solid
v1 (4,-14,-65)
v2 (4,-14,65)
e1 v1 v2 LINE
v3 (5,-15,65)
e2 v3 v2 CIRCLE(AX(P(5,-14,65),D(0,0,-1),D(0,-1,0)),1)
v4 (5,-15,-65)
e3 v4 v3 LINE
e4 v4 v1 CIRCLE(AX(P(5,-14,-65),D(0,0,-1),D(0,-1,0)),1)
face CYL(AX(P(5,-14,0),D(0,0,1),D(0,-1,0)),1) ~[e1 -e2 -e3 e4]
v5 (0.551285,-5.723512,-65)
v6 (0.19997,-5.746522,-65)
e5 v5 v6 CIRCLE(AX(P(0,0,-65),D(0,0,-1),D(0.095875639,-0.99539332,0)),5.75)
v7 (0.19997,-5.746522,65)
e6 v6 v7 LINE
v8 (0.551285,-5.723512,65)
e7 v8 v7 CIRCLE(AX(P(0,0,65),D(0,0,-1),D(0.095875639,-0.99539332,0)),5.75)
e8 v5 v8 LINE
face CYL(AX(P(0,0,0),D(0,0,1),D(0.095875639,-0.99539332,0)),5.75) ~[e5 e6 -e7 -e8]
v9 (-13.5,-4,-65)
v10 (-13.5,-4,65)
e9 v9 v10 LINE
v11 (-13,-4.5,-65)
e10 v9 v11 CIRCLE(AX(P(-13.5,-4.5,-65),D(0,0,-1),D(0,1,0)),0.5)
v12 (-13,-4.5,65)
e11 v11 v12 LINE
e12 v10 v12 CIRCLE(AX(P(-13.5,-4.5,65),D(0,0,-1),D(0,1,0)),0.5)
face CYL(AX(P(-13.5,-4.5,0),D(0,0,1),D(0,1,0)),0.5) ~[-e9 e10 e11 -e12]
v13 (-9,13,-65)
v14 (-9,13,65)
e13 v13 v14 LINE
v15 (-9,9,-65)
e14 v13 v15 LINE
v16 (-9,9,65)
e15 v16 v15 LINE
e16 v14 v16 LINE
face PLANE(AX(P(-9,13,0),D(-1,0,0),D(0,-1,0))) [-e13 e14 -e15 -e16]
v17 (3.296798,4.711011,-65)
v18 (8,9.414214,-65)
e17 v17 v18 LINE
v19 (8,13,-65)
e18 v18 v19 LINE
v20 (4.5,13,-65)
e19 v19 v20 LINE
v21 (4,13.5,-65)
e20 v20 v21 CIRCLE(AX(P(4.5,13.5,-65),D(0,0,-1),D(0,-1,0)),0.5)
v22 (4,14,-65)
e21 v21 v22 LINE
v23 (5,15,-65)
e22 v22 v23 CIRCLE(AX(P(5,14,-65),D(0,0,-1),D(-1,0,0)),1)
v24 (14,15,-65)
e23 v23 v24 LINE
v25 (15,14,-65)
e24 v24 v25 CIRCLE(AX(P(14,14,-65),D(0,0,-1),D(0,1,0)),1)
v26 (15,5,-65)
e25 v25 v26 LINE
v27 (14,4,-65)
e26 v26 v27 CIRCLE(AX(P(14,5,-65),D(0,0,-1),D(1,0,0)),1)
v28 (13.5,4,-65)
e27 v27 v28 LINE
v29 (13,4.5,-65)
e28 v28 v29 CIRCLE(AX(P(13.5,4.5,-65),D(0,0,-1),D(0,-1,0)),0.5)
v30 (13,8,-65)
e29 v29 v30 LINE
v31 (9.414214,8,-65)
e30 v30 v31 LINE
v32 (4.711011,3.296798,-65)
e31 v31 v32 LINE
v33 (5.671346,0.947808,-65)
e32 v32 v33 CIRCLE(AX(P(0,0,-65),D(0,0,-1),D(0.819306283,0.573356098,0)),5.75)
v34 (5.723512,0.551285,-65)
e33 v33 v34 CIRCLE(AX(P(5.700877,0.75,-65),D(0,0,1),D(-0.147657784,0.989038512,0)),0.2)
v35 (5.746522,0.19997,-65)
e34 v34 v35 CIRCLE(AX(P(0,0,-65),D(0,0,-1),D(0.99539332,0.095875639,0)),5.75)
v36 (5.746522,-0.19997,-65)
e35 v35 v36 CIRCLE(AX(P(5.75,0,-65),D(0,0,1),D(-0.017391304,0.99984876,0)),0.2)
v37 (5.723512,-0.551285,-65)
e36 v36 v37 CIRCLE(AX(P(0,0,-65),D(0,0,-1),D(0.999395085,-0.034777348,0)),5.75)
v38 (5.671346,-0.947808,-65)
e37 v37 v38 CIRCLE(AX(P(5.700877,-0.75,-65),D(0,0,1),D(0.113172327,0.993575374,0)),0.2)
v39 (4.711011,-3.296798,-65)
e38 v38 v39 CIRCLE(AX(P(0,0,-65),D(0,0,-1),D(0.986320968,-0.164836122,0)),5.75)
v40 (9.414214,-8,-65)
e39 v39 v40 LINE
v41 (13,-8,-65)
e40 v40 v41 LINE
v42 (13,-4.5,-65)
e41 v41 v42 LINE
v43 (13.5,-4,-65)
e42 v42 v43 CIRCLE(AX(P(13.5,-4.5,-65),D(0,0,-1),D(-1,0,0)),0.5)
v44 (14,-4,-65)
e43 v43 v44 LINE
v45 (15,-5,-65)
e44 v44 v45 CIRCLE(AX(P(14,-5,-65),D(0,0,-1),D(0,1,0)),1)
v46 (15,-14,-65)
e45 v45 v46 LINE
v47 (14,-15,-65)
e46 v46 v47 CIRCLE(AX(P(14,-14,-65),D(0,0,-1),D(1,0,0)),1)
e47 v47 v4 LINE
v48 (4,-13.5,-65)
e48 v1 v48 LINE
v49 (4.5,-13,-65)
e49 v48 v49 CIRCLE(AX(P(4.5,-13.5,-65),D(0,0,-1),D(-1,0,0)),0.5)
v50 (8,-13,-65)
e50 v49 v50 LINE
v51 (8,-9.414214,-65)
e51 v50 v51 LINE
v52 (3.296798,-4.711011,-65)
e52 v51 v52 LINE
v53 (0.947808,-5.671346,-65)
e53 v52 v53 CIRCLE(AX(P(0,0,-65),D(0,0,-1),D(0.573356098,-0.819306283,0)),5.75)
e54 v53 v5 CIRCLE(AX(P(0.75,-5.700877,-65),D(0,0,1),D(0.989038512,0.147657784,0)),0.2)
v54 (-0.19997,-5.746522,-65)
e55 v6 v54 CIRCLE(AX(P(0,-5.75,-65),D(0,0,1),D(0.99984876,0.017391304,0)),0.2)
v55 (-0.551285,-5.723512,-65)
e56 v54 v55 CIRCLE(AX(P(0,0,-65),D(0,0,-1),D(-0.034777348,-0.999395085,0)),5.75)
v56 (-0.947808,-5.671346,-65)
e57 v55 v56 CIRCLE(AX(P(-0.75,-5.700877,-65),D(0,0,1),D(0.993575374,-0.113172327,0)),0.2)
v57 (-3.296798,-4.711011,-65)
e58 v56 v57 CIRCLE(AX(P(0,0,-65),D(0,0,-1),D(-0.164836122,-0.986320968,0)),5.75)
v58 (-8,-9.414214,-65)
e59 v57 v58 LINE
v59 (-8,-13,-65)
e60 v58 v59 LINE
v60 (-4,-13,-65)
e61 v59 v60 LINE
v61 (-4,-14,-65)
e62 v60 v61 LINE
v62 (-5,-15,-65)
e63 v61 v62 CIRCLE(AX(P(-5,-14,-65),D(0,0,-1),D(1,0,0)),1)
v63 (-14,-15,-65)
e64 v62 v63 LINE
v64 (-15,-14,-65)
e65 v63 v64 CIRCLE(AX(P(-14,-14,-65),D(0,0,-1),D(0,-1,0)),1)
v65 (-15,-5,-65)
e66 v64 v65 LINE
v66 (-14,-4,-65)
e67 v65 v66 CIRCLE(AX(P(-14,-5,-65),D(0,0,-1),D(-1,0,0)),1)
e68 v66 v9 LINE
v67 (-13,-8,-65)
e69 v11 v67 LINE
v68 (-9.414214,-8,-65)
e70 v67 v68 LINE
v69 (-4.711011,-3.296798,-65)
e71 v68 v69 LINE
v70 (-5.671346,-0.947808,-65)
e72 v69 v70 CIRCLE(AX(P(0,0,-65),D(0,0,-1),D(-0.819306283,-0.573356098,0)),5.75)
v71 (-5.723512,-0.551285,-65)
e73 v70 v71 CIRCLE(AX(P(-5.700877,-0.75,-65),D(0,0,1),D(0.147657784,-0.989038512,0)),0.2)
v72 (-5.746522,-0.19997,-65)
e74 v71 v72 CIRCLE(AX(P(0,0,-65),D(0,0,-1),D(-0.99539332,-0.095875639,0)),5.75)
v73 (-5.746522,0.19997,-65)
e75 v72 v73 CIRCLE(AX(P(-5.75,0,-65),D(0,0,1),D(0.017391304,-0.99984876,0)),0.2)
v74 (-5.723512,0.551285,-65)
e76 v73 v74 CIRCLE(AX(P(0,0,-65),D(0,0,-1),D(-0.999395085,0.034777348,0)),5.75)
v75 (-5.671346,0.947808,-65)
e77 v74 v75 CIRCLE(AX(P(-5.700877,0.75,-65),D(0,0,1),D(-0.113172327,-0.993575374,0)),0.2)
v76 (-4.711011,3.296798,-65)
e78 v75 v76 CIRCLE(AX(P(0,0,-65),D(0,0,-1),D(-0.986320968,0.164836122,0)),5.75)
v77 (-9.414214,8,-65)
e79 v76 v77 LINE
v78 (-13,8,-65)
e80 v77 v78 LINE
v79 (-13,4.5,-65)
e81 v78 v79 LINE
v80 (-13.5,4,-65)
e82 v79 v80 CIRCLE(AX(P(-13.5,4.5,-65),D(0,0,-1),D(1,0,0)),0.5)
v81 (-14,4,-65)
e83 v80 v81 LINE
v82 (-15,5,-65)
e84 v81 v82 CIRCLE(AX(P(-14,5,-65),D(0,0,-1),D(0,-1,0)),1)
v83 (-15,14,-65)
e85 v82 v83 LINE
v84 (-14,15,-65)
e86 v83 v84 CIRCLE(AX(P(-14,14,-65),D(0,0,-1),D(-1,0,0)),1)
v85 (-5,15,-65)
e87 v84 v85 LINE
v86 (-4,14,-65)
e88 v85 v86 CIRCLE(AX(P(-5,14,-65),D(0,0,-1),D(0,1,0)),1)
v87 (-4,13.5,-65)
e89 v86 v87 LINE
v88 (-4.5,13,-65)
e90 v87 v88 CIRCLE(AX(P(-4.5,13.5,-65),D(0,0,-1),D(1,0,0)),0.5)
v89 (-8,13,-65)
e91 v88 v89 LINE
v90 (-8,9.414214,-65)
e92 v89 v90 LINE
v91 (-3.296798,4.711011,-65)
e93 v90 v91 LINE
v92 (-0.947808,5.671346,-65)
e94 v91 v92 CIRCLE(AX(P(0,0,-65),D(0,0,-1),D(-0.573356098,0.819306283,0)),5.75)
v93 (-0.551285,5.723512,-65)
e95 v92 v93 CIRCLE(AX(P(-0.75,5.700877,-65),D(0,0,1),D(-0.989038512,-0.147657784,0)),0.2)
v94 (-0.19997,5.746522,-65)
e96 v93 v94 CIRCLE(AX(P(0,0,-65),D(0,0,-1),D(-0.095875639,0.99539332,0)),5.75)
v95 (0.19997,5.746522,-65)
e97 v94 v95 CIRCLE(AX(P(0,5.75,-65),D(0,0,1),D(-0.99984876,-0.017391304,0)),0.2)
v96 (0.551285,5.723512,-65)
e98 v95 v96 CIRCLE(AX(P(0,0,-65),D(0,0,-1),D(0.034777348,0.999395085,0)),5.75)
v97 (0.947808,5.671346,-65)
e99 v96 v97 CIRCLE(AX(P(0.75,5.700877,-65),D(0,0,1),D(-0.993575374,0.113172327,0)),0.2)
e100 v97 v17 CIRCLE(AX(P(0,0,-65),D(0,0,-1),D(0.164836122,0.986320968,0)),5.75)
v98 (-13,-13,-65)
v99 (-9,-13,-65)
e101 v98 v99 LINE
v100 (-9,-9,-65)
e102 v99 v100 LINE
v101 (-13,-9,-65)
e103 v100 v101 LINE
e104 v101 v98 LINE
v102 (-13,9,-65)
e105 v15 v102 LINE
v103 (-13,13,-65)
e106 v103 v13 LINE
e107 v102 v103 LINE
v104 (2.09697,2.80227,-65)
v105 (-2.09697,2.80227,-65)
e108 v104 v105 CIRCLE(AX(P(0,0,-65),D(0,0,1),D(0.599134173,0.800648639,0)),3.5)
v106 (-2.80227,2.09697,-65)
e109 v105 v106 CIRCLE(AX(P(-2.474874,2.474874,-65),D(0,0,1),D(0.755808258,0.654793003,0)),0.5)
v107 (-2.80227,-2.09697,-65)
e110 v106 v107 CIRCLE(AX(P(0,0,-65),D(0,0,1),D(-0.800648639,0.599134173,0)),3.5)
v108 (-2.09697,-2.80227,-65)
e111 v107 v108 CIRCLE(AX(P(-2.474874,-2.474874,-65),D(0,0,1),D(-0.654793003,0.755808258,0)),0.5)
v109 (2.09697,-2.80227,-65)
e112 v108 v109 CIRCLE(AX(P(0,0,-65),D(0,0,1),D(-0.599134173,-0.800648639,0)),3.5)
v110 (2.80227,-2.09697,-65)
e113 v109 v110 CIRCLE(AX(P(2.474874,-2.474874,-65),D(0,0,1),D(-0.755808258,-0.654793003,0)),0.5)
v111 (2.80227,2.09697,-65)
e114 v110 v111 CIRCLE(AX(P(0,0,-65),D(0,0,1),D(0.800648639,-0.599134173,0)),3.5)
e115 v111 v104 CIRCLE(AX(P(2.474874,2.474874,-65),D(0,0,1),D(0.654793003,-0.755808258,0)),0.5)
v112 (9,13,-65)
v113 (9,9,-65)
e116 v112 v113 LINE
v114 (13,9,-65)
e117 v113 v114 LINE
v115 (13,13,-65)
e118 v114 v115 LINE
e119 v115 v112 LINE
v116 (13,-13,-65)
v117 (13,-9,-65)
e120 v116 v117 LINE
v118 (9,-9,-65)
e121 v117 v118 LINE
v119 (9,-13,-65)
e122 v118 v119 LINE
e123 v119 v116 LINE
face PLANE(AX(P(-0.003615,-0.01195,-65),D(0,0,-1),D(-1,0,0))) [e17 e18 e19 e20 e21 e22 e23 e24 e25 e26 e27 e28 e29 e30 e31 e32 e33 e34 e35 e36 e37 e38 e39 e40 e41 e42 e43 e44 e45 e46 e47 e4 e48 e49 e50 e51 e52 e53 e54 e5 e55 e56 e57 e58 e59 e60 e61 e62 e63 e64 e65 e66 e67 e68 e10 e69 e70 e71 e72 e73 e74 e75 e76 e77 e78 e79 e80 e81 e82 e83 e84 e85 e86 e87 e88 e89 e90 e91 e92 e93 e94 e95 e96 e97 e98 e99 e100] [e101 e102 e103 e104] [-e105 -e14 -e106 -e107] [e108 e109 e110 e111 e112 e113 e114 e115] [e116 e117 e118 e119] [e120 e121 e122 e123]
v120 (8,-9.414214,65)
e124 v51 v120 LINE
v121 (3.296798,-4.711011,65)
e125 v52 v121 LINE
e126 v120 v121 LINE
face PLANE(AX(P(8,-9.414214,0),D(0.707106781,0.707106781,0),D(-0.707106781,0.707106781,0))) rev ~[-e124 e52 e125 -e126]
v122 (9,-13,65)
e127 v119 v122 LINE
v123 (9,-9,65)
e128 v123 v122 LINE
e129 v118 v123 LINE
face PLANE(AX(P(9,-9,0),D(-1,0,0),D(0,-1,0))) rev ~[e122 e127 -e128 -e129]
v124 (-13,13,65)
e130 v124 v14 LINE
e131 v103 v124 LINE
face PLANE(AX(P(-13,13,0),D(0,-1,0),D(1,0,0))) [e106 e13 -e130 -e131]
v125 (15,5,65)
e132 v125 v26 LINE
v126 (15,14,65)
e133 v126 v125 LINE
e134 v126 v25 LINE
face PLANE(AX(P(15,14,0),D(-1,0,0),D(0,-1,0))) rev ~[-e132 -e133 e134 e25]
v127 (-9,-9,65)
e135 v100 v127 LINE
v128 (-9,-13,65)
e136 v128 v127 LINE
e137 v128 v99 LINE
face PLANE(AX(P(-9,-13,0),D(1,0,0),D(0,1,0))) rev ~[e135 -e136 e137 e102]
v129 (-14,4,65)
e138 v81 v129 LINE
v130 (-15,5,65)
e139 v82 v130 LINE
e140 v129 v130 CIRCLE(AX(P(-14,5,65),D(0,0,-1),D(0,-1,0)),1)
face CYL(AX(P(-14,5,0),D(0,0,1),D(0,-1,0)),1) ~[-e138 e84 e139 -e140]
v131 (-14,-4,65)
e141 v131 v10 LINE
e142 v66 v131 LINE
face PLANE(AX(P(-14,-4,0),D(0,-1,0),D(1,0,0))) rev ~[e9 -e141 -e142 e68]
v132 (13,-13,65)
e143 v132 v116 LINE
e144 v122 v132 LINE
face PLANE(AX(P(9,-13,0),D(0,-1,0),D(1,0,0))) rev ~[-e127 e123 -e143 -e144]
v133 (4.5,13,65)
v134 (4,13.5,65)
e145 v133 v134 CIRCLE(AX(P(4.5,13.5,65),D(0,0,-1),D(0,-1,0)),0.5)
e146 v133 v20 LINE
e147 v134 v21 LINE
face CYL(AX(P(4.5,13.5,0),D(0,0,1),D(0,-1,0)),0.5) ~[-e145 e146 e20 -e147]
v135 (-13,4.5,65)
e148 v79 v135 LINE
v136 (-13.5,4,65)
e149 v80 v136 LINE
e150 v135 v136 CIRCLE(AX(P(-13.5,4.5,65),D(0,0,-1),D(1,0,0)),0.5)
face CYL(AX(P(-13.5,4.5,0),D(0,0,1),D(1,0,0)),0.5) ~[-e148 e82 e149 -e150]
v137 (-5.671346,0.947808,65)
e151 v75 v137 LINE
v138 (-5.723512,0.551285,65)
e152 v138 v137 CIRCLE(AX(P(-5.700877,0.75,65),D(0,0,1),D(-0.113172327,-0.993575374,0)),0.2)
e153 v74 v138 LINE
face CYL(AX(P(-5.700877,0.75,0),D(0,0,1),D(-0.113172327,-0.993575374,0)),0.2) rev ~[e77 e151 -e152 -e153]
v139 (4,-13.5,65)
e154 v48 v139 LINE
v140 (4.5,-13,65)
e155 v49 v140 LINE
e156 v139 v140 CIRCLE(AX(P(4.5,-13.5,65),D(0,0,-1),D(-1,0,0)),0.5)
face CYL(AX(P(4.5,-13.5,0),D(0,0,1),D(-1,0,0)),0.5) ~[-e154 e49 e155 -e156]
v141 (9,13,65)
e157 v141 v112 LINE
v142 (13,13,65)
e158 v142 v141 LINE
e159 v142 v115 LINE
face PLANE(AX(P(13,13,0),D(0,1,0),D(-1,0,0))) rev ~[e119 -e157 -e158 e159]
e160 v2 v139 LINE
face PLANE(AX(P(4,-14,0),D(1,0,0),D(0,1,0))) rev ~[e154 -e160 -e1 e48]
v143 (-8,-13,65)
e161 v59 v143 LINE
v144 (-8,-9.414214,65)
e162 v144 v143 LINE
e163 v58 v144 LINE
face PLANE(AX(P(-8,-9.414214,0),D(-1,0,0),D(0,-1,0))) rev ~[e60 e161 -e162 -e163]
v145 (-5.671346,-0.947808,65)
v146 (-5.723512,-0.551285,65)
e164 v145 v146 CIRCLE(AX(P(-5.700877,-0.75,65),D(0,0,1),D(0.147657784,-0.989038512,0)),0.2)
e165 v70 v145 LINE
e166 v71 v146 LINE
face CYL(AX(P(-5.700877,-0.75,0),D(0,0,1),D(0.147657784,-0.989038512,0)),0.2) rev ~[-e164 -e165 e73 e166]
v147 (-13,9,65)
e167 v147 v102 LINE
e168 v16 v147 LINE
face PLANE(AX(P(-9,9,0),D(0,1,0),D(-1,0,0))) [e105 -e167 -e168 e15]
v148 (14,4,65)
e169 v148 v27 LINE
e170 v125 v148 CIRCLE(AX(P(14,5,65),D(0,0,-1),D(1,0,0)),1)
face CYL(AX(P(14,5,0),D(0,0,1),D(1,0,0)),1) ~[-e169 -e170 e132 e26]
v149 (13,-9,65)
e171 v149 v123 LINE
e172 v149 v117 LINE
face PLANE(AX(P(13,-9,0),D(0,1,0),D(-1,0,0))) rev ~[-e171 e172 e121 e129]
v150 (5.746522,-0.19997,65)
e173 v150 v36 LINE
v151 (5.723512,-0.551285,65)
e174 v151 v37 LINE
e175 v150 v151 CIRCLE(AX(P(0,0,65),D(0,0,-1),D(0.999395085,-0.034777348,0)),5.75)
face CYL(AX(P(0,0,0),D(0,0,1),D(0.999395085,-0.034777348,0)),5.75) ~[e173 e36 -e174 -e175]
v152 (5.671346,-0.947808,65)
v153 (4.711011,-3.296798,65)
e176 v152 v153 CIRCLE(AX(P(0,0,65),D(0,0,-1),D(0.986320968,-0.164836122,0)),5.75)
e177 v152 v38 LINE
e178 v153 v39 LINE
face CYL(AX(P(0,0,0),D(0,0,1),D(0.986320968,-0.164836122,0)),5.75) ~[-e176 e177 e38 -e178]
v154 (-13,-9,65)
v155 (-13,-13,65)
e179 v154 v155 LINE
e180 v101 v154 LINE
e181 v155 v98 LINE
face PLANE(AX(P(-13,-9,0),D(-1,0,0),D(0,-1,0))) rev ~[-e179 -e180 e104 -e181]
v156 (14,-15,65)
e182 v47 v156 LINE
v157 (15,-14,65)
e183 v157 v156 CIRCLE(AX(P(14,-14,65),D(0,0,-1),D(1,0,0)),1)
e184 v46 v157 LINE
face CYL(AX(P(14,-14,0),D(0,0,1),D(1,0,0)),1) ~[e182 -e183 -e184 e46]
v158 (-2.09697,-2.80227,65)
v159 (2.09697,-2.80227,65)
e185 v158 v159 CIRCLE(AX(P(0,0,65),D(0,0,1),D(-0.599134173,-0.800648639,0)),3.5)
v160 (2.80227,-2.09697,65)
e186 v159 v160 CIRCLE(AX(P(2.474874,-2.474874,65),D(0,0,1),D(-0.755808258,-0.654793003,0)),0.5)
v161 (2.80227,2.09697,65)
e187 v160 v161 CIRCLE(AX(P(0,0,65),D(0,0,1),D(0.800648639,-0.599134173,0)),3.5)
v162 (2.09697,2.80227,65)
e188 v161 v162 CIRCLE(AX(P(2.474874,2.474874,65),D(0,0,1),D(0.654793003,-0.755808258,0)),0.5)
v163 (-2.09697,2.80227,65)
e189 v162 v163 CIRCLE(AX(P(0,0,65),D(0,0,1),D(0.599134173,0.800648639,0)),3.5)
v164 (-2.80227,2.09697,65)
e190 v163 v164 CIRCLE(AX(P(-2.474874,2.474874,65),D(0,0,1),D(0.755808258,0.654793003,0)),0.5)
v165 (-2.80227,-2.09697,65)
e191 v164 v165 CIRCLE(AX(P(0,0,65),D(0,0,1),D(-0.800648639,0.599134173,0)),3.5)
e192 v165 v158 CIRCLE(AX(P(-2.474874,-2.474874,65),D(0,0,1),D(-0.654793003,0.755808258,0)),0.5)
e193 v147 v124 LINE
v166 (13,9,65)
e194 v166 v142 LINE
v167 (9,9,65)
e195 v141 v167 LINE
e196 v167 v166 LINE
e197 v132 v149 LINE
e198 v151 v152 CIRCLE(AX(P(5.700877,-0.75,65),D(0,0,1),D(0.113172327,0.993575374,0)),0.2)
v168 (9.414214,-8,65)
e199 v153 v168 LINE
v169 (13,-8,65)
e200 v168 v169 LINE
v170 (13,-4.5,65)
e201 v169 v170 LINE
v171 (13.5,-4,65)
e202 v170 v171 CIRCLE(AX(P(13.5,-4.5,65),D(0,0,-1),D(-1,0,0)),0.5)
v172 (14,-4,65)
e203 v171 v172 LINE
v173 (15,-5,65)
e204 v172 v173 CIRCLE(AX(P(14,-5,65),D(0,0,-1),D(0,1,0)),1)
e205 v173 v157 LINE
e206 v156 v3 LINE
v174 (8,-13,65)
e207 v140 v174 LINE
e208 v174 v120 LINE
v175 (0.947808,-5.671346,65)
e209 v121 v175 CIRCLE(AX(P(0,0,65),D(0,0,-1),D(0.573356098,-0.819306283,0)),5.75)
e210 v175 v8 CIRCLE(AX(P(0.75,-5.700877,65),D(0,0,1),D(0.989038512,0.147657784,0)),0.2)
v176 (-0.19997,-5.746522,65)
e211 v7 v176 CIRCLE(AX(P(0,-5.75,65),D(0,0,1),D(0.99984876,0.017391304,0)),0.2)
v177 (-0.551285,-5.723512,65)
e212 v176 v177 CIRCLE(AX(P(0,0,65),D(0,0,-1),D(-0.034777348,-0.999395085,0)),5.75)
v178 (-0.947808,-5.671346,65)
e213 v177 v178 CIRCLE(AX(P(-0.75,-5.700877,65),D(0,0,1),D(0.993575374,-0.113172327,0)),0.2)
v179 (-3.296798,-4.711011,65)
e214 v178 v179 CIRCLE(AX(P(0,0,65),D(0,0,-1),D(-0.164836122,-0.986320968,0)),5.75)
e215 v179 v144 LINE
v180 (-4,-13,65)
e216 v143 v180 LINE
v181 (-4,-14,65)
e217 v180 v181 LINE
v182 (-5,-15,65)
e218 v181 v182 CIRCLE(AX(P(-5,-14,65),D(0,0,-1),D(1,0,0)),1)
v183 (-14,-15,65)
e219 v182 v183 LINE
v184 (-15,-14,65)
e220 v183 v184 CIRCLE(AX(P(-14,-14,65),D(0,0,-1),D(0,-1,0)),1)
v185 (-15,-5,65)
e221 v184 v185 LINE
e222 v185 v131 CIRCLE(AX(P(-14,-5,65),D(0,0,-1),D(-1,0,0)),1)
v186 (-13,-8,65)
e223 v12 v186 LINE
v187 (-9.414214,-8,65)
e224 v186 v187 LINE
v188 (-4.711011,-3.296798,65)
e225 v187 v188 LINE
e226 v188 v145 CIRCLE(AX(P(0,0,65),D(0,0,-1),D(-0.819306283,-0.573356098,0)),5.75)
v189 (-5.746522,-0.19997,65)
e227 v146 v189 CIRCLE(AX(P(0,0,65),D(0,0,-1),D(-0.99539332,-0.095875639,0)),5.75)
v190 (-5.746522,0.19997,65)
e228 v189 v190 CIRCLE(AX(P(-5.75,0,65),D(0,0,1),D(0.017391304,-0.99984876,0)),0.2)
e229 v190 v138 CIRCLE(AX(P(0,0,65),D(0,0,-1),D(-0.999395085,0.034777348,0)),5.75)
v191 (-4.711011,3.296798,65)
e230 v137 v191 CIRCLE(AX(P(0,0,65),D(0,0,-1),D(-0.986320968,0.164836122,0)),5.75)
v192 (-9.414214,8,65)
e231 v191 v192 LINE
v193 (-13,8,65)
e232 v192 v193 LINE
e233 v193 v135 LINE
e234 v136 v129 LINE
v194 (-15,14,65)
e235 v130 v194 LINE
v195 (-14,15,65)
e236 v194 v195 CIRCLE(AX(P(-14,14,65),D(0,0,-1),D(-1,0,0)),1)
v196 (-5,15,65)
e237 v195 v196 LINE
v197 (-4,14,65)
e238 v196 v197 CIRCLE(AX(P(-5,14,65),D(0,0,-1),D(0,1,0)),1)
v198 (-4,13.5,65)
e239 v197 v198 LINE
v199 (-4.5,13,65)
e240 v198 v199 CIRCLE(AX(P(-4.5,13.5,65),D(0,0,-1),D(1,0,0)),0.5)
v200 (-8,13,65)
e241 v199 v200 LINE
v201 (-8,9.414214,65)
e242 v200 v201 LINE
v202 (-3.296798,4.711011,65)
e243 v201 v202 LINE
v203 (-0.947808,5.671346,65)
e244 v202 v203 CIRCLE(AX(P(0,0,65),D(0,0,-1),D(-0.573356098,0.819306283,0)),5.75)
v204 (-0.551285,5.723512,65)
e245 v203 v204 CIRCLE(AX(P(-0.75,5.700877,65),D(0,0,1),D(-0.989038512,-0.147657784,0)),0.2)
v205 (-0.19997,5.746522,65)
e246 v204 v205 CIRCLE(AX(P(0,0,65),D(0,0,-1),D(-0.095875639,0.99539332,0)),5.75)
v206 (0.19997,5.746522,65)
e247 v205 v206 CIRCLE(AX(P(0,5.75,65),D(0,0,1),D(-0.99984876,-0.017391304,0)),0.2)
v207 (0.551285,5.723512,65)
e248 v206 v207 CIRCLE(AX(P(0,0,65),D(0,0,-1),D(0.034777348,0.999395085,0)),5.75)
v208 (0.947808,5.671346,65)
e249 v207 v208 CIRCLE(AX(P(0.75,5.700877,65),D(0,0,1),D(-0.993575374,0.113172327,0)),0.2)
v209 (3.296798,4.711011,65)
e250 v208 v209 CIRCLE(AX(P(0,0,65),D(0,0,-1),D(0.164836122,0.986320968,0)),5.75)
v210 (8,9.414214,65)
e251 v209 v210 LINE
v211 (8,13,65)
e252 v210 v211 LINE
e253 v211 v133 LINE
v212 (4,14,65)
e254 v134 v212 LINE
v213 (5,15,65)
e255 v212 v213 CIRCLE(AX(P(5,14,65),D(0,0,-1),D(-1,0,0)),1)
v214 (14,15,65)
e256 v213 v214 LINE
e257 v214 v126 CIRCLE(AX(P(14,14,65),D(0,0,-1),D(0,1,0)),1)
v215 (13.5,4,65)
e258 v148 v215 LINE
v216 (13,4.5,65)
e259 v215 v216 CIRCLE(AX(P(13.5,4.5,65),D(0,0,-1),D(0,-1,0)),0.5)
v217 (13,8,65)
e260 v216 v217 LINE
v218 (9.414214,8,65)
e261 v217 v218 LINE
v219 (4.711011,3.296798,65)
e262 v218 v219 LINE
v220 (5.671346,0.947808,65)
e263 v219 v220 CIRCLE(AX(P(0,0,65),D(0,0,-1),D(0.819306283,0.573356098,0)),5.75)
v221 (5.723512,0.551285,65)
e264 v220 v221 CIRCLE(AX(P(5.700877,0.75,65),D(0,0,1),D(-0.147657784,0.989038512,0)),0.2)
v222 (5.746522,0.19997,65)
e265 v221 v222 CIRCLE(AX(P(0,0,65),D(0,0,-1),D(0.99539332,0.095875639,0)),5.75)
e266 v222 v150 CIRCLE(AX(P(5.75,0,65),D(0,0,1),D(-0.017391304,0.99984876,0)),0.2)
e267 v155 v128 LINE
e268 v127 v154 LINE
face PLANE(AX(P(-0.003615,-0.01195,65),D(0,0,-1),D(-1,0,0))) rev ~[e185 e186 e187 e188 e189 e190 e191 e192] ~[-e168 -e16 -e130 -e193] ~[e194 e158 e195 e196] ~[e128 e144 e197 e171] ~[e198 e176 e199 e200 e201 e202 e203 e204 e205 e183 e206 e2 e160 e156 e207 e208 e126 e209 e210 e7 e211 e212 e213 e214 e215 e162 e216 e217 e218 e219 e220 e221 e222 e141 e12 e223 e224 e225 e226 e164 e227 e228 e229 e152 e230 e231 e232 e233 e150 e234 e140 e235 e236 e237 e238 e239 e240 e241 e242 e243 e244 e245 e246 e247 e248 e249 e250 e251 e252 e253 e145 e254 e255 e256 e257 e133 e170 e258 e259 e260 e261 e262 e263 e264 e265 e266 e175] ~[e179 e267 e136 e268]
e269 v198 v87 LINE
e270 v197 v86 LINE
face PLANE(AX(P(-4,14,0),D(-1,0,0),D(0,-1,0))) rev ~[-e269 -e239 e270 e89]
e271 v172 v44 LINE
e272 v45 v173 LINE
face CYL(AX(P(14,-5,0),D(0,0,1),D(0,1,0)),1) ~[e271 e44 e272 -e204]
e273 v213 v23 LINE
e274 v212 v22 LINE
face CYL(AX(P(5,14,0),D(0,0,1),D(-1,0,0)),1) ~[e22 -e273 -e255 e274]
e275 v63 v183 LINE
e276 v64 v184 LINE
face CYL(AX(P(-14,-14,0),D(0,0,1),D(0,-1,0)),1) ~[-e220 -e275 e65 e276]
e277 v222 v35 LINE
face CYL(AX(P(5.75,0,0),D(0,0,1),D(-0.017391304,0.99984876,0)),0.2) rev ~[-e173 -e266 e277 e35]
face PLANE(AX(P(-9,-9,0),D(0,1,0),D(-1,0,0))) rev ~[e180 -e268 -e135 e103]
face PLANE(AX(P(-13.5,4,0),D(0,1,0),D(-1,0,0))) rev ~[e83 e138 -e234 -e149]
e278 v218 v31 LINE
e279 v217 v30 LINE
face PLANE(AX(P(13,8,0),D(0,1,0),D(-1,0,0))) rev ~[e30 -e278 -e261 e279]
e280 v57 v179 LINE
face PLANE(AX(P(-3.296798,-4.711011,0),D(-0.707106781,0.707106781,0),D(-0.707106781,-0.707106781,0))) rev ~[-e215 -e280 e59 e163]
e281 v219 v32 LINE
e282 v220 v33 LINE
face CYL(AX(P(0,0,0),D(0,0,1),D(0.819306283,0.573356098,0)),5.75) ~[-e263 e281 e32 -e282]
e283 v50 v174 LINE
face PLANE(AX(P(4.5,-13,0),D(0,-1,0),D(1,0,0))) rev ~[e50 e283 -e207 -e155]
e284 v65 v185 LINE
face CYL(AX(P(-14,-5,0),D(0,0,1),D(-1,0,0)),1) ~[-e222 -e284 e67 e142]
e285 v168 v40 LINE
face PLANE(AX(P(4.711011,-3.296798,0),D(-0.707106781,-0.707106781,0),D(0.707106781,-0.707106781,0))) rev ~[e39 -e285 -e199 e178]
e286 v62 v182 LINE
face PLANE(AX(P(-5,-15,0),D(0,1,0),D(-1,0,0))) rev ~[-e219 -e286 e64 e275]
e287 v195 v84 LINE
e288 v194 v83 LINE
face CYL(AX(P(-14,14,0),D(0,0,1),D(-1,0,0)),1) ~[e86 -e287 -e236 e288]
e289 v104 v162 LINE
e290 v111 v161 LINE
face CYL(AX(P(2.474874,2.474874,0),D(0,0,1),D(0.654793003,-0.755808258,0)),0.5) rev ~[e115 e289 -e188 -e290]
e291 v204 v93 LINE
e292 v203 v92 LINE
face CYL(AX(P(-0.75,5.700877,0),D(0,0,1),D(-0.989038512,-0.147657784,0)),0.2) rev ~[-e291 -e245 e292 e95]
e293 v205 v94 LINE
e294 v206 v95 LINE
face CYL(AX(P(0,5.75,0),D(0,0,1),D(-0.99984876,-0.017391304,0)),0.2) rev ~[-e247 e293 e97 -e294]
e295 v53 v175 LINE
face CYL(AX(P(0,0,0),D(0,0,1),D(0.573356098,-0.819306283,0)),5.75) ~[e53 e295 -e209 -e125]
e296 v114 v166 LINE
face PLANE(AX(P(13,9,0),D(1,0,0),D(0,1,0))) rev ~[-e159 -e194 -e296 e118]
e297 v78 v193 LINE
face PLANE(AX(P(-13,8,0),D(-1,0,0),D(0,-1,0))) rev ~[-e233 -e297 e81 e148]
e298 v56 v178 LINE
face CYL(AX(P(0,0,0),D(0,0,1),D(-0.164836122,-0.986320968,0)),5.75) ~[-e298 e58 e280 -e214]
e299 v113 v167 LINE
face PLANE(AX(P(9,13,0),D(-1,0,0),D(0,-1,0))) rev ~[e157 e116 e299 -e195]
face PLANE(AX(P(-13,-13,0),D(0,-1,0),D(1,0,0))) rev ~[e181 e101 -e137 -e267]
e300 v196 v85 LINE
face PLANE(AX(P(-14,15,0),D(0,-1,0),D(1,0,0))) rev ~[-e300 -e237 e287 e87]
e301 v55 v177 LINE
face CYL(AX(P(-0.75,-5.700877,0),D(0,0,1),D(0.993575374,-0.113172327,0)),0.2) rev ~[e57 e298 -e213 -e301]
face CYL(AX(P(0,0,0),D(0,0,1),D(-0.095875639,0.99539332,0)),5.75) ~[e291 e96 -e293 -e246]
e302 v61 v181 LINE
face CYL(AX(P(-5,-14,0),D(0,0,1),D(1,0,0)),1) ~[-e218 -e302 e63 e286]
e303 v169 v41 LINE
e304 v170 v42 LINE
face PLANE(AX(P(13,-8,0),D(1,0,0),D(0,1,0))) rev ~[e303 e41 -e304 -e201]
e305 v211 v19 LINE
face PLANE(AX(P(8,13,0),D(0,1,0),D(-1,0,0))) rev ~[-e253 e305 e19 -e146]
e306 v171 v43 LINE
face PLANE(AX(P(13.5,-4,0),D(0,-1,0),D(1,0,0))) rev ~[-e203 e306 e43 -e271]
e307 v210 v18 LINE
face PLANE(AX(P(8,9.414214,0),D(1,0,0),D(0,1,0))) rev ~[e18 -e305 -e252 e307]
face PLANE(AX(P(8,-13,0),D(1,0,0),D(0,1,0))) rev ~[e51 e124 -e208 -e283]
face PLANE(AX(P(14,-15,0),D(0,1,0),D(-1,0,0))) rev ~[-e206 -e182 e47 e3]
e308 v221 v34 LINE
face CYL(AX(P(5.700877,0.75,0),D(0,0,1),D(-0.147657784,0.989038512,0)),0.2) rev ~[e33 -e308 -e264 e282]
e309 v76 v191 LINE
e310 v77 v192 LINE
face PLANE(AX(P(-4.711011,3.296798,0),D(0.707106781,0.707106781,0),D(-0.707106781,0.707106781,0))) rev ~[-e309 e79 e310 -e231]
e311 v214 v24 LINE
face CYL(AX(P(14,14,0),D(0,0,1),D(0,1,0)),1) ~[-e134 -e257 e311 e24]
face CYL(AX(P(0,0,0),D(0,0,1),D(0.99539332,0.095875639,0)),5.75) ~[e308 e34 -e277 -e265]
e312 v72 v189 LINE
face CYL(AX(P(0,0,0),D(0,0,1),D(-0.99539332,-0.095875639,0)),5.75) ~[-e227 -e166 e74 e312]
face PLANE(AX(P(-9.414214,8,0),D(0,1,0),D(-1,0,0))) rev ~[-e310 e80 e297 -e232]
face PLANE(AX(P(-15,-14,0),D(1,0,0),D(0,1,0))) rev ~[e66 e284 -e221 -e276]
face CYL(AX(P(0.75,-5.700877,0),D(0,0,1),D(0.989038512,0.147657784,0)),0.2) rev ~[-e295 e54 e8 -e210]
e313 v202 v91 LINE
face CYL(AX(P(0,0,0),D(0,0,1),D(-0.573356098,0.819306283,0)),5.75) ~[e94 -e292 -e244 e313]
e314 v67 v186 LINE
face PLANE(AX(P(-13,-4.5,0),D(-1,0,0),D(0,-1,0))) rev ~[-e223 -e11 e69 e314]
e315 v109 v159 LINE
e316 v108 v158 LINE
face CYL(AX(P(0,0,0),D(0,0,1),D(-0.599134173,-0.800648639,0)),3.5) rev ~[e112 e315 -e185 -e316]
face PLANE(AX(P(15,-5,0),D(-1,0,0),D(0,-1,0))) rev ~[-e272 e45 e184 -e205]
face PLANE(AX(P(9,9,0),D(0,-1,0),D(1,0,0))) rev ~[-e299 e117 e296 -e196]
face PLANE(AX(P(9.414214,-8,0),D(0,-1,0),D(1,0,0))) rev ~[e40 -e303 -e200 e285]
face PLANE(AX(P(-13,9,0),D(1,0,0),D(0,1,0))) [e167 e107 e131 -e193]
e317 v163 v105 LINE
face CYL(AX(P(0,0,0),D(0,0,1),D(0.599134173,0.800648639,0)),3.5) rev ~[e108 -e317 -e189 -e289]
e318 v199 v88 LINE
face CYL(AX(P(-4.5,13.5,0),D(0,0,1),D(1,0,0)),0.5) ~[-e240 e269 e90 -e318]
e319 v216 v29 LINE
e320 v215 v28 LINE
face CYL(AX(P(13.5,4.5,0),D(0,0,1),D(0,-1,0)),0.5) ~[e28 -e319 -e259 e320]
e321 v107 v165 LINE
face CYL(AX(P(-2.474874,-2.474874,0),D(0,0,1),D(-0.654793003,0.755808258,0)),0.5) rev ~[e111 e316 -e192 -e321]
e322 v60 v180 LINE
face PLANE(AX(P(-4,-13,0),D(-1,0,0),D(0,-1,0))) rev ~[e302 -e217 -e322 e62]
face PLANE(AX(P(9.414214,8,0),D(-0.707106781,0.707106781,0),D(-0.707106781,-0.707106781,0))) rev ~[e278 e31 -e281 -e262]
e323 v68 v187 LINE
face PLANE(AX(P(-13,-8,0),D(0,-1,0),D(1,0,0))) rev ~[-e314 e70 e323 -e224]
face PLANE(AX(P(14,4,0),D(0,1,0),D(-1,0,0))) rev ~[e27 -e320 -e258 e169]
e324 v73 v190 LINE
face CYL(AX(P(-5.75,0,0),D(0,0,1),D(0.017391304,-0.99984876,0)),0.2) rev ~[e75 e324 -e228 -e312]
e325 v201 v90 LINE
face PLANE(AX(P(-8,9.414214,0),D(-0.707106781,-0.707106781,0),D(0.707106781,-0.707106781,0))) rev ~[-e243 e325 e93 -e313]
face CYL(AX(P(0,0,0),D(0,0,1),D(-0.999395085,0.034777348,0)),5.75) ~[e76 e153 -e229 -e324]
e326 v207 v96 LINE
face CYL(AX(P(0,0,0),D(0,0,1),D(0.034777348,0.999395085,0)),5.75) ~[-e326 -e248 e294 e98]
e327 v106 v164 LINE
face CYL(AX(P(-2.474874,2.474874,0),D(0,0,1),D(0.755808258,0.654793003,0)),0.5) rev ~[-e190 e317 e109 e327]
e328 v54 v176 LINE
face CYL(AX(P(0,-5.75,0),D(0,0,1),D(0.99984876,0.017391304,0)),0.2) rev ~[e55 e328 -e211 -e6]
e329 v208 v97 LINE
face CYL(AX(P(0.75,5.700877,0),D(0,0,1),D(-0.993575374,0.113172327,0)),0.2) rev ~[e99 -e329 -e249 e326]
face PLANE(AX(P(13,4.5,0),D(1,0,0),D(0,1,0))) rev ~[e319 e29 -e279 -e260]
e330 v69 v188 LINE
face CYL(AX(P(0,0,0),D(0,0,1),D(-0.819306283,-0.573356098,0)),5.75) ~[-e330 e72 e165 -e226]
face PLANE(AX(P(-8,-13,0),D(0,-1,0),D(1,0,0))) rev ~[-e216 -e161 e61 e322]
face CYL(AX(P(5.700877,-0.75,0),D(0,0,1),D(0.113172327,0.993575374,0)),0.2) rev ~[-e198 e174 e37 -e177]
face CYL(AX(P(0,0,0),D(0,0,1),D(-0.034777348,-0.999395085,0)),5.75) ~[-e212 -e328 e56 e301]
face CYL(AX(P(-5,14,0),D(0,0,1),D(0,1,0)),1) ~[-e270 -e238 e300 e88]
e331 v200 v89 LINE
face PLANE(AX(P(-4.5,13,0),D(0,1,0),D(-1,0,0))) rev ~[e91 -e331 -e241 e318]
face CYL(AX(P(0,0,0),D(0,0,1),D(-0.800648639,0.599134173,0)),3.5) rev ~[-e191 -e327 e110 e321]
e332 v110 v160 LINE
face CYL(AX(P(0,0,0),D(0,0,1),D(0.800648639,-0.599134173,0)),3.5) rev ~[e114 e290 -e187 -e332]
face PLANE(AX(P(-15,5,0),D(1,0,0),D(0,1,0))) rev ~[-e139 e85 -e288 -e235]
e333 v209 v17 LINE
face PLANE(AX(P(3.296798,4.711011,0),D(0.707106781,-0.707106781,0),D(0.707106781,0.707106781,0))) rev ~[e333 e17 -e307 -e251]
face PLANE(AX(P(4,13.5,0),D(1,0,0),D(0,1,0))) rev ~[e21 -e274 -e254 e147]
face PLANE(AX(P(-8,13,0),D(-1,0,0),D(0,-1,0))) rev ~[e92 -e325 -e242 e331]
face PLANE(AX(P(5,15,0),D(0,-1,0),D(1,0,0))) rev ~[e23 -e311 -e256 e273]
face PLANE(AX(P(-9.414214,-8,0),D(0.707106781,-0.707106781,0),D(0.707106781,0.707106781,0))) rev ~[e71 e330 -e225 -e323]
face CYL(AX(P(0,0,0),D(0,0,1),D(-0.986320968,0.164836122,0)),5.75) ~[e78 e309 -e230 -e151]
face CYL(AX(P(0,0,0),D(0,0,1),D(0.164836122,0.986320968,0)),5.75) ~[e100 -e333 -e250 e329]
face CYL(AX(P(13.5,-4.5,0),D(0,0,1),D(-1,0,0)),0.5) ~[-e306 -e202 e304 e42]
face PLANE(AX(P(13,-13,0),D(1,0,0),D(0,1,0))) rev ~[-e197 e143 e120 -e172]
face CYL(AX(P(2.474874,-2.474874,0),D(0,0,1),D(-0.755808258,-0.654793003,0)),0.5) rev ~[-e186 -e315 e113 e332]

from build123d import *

# Parameters (mm, degrees)
BOSS_EXTRUDE1_DEPTH = 65


with BuildPart() as part:
    # Sketch1 → Boss-Extrude1 (new, symmetric)
    with BuildSketch(Plane.XY):
        with BuildLine():
            Line((-15, 5.000000000000009), (-15, 13.999999999999993))
            ThreePointArc((-15, 13.999999999999993), (-14.707106781186548, 14.70710678118655), (-13.999999999999991, 15.000000000000002))
            Line((-13.999999999999991, 15.000000000000002), (-5.000000000000007, 15.000000000000002))
            ThreePointArc((-5.000000000000007, 15.000000000000002), (-4.292893218813452, 14.707106781186548), (-4, 13.999999999999993))
            Line((-4, 13.999999999999993), (-4, 13.500000000000004))
            ThreePointArc((-4, 13.500000000000004), (-4.146446609406727, 13.146446609406725), (-4.500000000000005, 13))
            Line((-4.500000000000005, 13), (-8.000000000000005, 13.000000000000016))
            Line((-8.000000000000005, 13.000000000000016), (-7.999999999999849, 9.414213562373025))
            Line((-7.999999999999849, 9.414213562373025), (-3.2967975633251787, 4.711011125698298))
            ThreePointArc((-3.2967975633251787, 4.711011125698298), (-2.175943249756075, 5.3223839558829855), (-0.9478077024559322, 5.67134556866048))
            ThreePointArc((-0.9478077024559322, 5.67134556866048), (-0.7239130434782917, 5.502585747217556), (-0.5512849251433612, 5.72351159091246))
            ThreePointArc((-0.5512849251433612, 5.72351159091246), (-0.3758034914685008, 5.737706138850234), (-0.1999697519659725, 5.746521739130396))
            ThreePointArc((-0.1999697519659725, 5.746521739130396), (-0.14018621156536692, 5.607354193587874), (-2.429e-14, 5.549999999999962))
            ThreePointArc((-2.429e-14, 5.549999999999962), (0.14018621156537447, 5.607354193587863), (0.1999697519659689, 5.746521739130433))
            ThreePointArc((0.1999697519659689, 5.746521739130433), (0.37580349146849373, 5.737706138850271), (0.5512849251433537, 5.723511590912496))
            ThreePointArc((0.5512849251433537, 5.723511590912496), (0.7239130434782822, 5.502585747217588), (0.9478077024559303, 5.671345568660512))
            ThreePointArc((0.9478077024559303, 5.671345568660512), (2.1759432497560995, 5.32238395588301), (3.2967975633252076, 4.711011125698281))
            Line((3.2967975633252076, 4.711011125698281), (8.000000000000027, 9.414213562373071))
            Line((8.000000000000027, 9.414213562373071), (8.000000000000039, 12.999999999999977))
            Line((8.000000000000039, 12.999999999999977), (4.500000000000051, 12.999999999999986))
            ThreePointArc((4.500000000000051, 12.999999999999986), (4.146446609406774, 13.146446609406713), (4.000000000000049, 13.499999999999991))
            Line((4.000000000000049, 13.499999999999991), (4.000000000000051, 13.999999999999977))
            ThreePointArc((4.000000000000051, 13.999999999999977), (4.292893218813505, 14.70710678118653), (5.00000000000006, 14.999999999999982))
            Line((5.00000000000006, 14.999999999999982), (14.000000000000046, 14.99999999999995))
            ThreePointArc((14.000000000000046, 14.99999999999995), (14.7071067811866, 14.707106781186495), (15.00000000000005, 13.99999999999994))
            Line((15.00000000000005, 13.99999999999994), (15.000000000000018, 4.999999999999955))
            ThreePointArc((15.000000000000018, 4.999999999999955), (14.707106781186562, 4.2928932188134015), (14.000000000000007, 3.9999999999999516))
            Line((14.000000000000007, 3.9999999999999516), (13.500000000000018, 3.9999999999999534))
            ThreePointArc((13.500000000000018, 3.9999999999999534), (13.146446609406741, 4.146446609406682), (13.000000000000014, 4.499999999999961))
            Line((13.000000000000014, 4.499999999999961), (13.000000000000044, 7.99999999999996))
            Line((13.000000000000044, 7.99999999999996), (9.414213562373115, 7.9999999999999725))
            Line((9.414213562373115, 7.9999999999999725), (4.711011125698292, 3.2967975633251885))
            ThreePointArc((4.711011125698292, 3.2967975633251885), (5.322383955882988, 2.1759432497560716), (5.671345568660484, 0.9478077024559123))
            ThreePointArc((5.671345568660484, 0.9478077024559123), (5.502585747217559, 0.7239130434782725), (5.723511590912461, 0.5512849251433413))
            ThreePointArc((5.723511590912461, 0.5512849251433413), (5.7377061388502355, 0.37580349146848013), (5.746521739130397, 0.19996975196595243))
            ThreePointArc((5.746521739130397, 0.19996975196595243), (5.607354193587875, 0.14018621156534747), (5.549999999999962, 4.91e-15))
            ThreePointArc((5.549999999999962, 4.91e-15), (5.60735419358786, -0.1401862115653925), (5.746521739130428, -0.1999697519659527))
            ThreePointArc((5.746521739130428, -0.1999697519659527), (5.737706138850272, -0.3758034914684969), (5.723511590912494, -0.5512849251433738))
            ThreePointArc((5.723511590912494, -0.5512849251433738), (5.502585747217585, -0.7239130434783013), (5.6713455686605085, -0.94780770245595))
            ThreePointArc((5.6713455686605085, -0.94780770245595), (5.3223839558830015, -2.175943249756118), (4.711011125698269, -3.296797563325224))
            Line((4.711011125698269, -3.296797563325224), (9.414213562373133, -7.999999999999714))
            Line((9.414213562373133, -7.999999999999714), (13.000000000000002, -7.99999999999998))
            Line((13.000000000000002, -7.99999999999998), (12.999999999999952, -4.499999999999787))
            ThreePointArc((12.999999999999952, -4.499999999999787), (13.146446609406702, -4.146446609406478), (13.50000000000003, -3.999999999999776))
            Line((13.50000000000003, -3.999999999999776), (14.000000000000144, -3.9999999999998517))
            ThreePointArc((14.000000000000144, -3.9999999999998517), (14.707106781186603, -4.292893218813357), (15.000000000000002, -4.999999999999859))
            Line((15.000000000000002, -4.999999999999859), (15.000000000000004, -14.000000000000002))
            ThreePointArc((15.000000000000004, -14.000000000000002), (14.70710678118655, -14.707106781186548), (14.000000000000004, -15.000000000000004))
            Line((14.000000000000004, -15.000000000000004), (5.000000000000161, -15.000000000000002))
            ThreePointArc((5.000000000000161, -15.000000000000002), (4.2928932188135525, -14.707106781186496), (4.000000000000154, -13.999999999999844))
            Line((4.000000000000154, -13.999999999999844), (4.000000000000229, -13.499999999999826))
            ThreePointArc((4.000000000000229, -13.499999999999826), (4.146446609406977, -13.1464466094066), (4.500000000000221, -12.999999999999897))
            Line((4.500000000000221, -12.999999999999897), (8.000000000000153, -12.999999999999817))
            Line((8.000000000000153, -12.999999999999817), (7.99999999999994, -9.414213562373144))
            Line((7.99999999999994, -9.414213562373144), (3.296797563325172, -4.711011125698304))
            ThreePointArc((3.296797563325172, -4.711011125698304), (2.175943249756054, -5.322383955882996), (0.9478077024558925, -5.671345568660487))
            ThreePointArc((0.9478077024558925, -5.671345568660487), (0.7239130434782536, -5.502585747217561), (0.5512849251433212, -5.723511590912463))
            ThreePointArc((0.5512849251433212, -5.723511590912463), (0.3758034914684597, -5.7377061388502355), (0.19996975196593236, -5.746521739130398))
            ThreePointArc((0.19996975196593236, -5.746521739130398), (0.14018621156532793, -5.6073541935878755), (-1.447e-14, -5.549999999999962))
            ThreePointArc((-1.447e-14, -5.549999999999962), (-0.14018621156541247, -5.60735419358786), (-0.19996975196595235, -5.746521739130428))
            ThreePointArc((-0.19996975196595235, -5.746521739130428), (-0.37580349146850606, -5.737706138850271), (-0.5512849251433938, -5.723511590912492))
            ThreePointArc((-0.5512849251433938, -5.723511590912492), (-0.7239130434783215, -5.502585747217583), (-0.9478077024559699, -5.671345568660507))
            ThreePointArc((-0.9478077024559699, -5.671345568660507), (-2.175943249756137, -5.322383955882994), (-3.2967975633252404, -4.711011125698258))
            Line((-3.2967975633252404, -4.711011125698258), (-7.99999999999998, -9.414213562373098))
            Line((-7.99999999999998, -9.414213562373098), (-7.99999999999998, -13.000000000000002))
            Line((-7.99999999999998, -13.000000000000002), (-4.000000000000001, -13.000000000000002))
            Line((-4.000000000000001, -13.000000000000002), (-4.000000000000001, -13.999999999999995))
            ThreePointArc((-4.000000000000001, -13.999999999999995), (-4.292893218813453, -14.70710678118655), (-5.000000000000008, -15.000000000000002))
            Line((-5.000000000000008, -15.000000000000002), (-13.999999999999998, -15.000000000000004))
            ThreePointArc((-13.999999999999998, -15.000000000000004), (-14.707106781186546, -14.707106781186553), (-15.000000000000004, -14.000000000000005))
            Line((-15.000000000000004, -14.000000000000005), (-15.000000000000002, -5.0000000000000115))
            ThreePointArc((-15.000000000000002, -5.0000000000000115), (-14.70710678118655, -4.292893218813457), (-13.999999999999995, -4.000000000000004))
            Line((-13.999999999999995, -4.000000000000004), (-13.500000000000007, -4.000000000000004))
            ThreePointArc((-13.500000000000007, -4.000000000000004), (-13.14644660940673, -4.1464466094067305), (-13.000000000000004, -4.500000000000007))
            Line((-13.000000000000004, -4.500000000000007), (-13.000000000000002, -8.000000000000002))
            Line((-13.000000000000002, -8.000000000000002), (-9.414213562373073, -8))
            Line((-9.414213562373073, -8), (-4.711011125698316, -3.2967975633251556))
            ThreePointArc((-4.711011125698316, -3.2967975633251556), (-5.322383955883002, -2.175943249756036), (-5.67134556866049, -0.9478077024558731))
            ThreePointArc((-5.67134556866049, -0.9478077024558731), (-5.502585747217563, -0.7239130434782345), (-5.723511590912465, -0.5512849251433016))
            ThreePointArc((-5.723511590912465, -0.5512849251433016), (-5.737706138850236, -0.3758034914684416), (-5.746521739130398, -0.1999697519659127))
            ThreePointArc((-5.746521739130398, -0.1999697519659127), (-5.607354193587914, -0.1401862115652944), (-5.549999999999999, -2.5e-16))
            ThreePointArc((-5.549999999999999, -2.5e-16), (-5.607354193587905, 0.1401862115653443), (-5.746521739130434, 0.19996975196594882))
            ThreePointArc((-5.746521739130434, 0.19996975196594882), (-5.737706138850273, 0.375803491468473), (-5.723511590912498, 0.5512849251433337))
            ThreePointArc((-5.723511590912498, 0.5512849251433337), (-5.502585747217591, 0.7239130434782631), (-5.671345568660516, 0.9478077024559104))
            ThreePointArc((-5.671345568660516, 0.9478077024559104), (-5.322383955883011, 2.17594324975609), (-4.711011125698278, 3.29679756332521))
            Line((-4.711011125698278, 3.29679756332521), (-9.414213562372948, 7.9999999999999325))
            Line((-9.414213562372948, 7.9999999999999325), (-13.000000000000005, 7.999999999999993))
            Line((-13.000000000000005, 7.999999999999993), (-13.000000000000002, 4.500000000000005))
            ThreePointArc((-13.000000000000002, 4.500000000000005), (-13.146446609406727, 4.146446609406728), (-13.500000000000005, 4.000000000000002))
            Line((-13.500000000000005, 4.000000000000002), (-13.999999999999991, 4.000000000000002))
            ThreePointArc((-13.999999999999991, 4.000000000000002), (-14.707106781186546, 4.292893218813454), (-15, 5.000000000000009))
        make_face()
        Polygon((-13.000000000000007, 9.000000000000016), (-12.999999999999853, 13.000000000000005), (-9.000000000000007, 13.000000000000016), (-8.999999999999853, 8.999999999999956), align=None, mode=Mode.SUBTRACT)
        Polygon((13.000000000000043, 12.999999999999956), (9.000000000000062, 12.999999999999975), (9.000000000000048, 8.999999999999975), (13.000000000000048, 8.999999999999961), align=None, mode=Mode.SUBTRACT)
        Polygon((13.000000000000004, -13.000000000000002), (13.000000000000004, -9.000000000000004), (9.000000000000062, -8.999999999999746), (9.000000000000105, -12.99999999999975), align=None, mode=Mode.SUBTRACT)
        Polygon((-13.000000000000002, -13.000000000000004), (-9.000000000000004, -13.000000000000004), (-9.000000000000004, -9.000000000000005), (-13, -9.000000000000007), align=None, mode=Mode.SUBTRACT)
        with BuildLine():
            ThreePointArc((3e-16, 3.5000000000000018), (-1.105000944452059, 3.320989748969435), (-2.096969605215332, 2.8022702358628915))
            ThreePointArc((-2.096969605215332, 2.8022702358628915), (-2.8284271247461614, 2.8284271247461947), (-2.8022702358628897, 2.0969696052153344))
            ThreePointArc((-2.8022702358628897, 2.0969696052153344), (-3.320989748969433, 1.1050009444520614), (-3.5, 1.73e-15))
            ThreePointArc((-3.5, 1.73e-15), (-3.320989748969439, -1.1050009444520394), (-2.8022702358629137, -2.096969605215303))
            ThreePointArc((-2.8022702358629137, -2.096969605215303), (-2.828427124746224, -2.8284271247461628), (-2.0969696052153637, -2.802270235862868))
            ThreePointArc((-2.0969696052153637, -2.802270235862868), (-1.1050009444520896, -3.3209897489694247), (-2.474e-14, -3.5000000000000018))
            ThreePointArc((-2.474e-14, -3.5000000000000018), (1.1050009444520363, -3.3209897489694424), (2.0969696052153126, -2.8022702358629066))
            ThreePointArc((2.0969696052153126, -2.8022702358629066), (2.8284271247461725, -2.828427124746214), (2.8022702358628746, -2.096969605215354))
            ThreePointArc((2.8022702358628746, -2.096969605215354), (3.3209897489694282, -1.1050009444520785), (3.5000000000000018, -1.252e-14))
            ThreePointArc((3.5000000000000018, -1.252e-14), (3.320989748969439, 1.1050009444520479), (2.802270235862899, 2.096969605215322))
            ThreePointArc((2.802270235862899, 2.096969605215322), (2.828427124746204, 2.828427124746182), (2.096969605215344, 2.802270235862882))
            ThreePointArc((2.096969605215344, 2.802270235862882), (1.1050009444520668, 3.320989748969432), (3e-16, 3.5000000000000018))
        make_face(mode=Mode.SUBTRACT)
    extrude(amount=BOSS_EXTRUDE1_DEPTH, both=True)


solid = part.part
